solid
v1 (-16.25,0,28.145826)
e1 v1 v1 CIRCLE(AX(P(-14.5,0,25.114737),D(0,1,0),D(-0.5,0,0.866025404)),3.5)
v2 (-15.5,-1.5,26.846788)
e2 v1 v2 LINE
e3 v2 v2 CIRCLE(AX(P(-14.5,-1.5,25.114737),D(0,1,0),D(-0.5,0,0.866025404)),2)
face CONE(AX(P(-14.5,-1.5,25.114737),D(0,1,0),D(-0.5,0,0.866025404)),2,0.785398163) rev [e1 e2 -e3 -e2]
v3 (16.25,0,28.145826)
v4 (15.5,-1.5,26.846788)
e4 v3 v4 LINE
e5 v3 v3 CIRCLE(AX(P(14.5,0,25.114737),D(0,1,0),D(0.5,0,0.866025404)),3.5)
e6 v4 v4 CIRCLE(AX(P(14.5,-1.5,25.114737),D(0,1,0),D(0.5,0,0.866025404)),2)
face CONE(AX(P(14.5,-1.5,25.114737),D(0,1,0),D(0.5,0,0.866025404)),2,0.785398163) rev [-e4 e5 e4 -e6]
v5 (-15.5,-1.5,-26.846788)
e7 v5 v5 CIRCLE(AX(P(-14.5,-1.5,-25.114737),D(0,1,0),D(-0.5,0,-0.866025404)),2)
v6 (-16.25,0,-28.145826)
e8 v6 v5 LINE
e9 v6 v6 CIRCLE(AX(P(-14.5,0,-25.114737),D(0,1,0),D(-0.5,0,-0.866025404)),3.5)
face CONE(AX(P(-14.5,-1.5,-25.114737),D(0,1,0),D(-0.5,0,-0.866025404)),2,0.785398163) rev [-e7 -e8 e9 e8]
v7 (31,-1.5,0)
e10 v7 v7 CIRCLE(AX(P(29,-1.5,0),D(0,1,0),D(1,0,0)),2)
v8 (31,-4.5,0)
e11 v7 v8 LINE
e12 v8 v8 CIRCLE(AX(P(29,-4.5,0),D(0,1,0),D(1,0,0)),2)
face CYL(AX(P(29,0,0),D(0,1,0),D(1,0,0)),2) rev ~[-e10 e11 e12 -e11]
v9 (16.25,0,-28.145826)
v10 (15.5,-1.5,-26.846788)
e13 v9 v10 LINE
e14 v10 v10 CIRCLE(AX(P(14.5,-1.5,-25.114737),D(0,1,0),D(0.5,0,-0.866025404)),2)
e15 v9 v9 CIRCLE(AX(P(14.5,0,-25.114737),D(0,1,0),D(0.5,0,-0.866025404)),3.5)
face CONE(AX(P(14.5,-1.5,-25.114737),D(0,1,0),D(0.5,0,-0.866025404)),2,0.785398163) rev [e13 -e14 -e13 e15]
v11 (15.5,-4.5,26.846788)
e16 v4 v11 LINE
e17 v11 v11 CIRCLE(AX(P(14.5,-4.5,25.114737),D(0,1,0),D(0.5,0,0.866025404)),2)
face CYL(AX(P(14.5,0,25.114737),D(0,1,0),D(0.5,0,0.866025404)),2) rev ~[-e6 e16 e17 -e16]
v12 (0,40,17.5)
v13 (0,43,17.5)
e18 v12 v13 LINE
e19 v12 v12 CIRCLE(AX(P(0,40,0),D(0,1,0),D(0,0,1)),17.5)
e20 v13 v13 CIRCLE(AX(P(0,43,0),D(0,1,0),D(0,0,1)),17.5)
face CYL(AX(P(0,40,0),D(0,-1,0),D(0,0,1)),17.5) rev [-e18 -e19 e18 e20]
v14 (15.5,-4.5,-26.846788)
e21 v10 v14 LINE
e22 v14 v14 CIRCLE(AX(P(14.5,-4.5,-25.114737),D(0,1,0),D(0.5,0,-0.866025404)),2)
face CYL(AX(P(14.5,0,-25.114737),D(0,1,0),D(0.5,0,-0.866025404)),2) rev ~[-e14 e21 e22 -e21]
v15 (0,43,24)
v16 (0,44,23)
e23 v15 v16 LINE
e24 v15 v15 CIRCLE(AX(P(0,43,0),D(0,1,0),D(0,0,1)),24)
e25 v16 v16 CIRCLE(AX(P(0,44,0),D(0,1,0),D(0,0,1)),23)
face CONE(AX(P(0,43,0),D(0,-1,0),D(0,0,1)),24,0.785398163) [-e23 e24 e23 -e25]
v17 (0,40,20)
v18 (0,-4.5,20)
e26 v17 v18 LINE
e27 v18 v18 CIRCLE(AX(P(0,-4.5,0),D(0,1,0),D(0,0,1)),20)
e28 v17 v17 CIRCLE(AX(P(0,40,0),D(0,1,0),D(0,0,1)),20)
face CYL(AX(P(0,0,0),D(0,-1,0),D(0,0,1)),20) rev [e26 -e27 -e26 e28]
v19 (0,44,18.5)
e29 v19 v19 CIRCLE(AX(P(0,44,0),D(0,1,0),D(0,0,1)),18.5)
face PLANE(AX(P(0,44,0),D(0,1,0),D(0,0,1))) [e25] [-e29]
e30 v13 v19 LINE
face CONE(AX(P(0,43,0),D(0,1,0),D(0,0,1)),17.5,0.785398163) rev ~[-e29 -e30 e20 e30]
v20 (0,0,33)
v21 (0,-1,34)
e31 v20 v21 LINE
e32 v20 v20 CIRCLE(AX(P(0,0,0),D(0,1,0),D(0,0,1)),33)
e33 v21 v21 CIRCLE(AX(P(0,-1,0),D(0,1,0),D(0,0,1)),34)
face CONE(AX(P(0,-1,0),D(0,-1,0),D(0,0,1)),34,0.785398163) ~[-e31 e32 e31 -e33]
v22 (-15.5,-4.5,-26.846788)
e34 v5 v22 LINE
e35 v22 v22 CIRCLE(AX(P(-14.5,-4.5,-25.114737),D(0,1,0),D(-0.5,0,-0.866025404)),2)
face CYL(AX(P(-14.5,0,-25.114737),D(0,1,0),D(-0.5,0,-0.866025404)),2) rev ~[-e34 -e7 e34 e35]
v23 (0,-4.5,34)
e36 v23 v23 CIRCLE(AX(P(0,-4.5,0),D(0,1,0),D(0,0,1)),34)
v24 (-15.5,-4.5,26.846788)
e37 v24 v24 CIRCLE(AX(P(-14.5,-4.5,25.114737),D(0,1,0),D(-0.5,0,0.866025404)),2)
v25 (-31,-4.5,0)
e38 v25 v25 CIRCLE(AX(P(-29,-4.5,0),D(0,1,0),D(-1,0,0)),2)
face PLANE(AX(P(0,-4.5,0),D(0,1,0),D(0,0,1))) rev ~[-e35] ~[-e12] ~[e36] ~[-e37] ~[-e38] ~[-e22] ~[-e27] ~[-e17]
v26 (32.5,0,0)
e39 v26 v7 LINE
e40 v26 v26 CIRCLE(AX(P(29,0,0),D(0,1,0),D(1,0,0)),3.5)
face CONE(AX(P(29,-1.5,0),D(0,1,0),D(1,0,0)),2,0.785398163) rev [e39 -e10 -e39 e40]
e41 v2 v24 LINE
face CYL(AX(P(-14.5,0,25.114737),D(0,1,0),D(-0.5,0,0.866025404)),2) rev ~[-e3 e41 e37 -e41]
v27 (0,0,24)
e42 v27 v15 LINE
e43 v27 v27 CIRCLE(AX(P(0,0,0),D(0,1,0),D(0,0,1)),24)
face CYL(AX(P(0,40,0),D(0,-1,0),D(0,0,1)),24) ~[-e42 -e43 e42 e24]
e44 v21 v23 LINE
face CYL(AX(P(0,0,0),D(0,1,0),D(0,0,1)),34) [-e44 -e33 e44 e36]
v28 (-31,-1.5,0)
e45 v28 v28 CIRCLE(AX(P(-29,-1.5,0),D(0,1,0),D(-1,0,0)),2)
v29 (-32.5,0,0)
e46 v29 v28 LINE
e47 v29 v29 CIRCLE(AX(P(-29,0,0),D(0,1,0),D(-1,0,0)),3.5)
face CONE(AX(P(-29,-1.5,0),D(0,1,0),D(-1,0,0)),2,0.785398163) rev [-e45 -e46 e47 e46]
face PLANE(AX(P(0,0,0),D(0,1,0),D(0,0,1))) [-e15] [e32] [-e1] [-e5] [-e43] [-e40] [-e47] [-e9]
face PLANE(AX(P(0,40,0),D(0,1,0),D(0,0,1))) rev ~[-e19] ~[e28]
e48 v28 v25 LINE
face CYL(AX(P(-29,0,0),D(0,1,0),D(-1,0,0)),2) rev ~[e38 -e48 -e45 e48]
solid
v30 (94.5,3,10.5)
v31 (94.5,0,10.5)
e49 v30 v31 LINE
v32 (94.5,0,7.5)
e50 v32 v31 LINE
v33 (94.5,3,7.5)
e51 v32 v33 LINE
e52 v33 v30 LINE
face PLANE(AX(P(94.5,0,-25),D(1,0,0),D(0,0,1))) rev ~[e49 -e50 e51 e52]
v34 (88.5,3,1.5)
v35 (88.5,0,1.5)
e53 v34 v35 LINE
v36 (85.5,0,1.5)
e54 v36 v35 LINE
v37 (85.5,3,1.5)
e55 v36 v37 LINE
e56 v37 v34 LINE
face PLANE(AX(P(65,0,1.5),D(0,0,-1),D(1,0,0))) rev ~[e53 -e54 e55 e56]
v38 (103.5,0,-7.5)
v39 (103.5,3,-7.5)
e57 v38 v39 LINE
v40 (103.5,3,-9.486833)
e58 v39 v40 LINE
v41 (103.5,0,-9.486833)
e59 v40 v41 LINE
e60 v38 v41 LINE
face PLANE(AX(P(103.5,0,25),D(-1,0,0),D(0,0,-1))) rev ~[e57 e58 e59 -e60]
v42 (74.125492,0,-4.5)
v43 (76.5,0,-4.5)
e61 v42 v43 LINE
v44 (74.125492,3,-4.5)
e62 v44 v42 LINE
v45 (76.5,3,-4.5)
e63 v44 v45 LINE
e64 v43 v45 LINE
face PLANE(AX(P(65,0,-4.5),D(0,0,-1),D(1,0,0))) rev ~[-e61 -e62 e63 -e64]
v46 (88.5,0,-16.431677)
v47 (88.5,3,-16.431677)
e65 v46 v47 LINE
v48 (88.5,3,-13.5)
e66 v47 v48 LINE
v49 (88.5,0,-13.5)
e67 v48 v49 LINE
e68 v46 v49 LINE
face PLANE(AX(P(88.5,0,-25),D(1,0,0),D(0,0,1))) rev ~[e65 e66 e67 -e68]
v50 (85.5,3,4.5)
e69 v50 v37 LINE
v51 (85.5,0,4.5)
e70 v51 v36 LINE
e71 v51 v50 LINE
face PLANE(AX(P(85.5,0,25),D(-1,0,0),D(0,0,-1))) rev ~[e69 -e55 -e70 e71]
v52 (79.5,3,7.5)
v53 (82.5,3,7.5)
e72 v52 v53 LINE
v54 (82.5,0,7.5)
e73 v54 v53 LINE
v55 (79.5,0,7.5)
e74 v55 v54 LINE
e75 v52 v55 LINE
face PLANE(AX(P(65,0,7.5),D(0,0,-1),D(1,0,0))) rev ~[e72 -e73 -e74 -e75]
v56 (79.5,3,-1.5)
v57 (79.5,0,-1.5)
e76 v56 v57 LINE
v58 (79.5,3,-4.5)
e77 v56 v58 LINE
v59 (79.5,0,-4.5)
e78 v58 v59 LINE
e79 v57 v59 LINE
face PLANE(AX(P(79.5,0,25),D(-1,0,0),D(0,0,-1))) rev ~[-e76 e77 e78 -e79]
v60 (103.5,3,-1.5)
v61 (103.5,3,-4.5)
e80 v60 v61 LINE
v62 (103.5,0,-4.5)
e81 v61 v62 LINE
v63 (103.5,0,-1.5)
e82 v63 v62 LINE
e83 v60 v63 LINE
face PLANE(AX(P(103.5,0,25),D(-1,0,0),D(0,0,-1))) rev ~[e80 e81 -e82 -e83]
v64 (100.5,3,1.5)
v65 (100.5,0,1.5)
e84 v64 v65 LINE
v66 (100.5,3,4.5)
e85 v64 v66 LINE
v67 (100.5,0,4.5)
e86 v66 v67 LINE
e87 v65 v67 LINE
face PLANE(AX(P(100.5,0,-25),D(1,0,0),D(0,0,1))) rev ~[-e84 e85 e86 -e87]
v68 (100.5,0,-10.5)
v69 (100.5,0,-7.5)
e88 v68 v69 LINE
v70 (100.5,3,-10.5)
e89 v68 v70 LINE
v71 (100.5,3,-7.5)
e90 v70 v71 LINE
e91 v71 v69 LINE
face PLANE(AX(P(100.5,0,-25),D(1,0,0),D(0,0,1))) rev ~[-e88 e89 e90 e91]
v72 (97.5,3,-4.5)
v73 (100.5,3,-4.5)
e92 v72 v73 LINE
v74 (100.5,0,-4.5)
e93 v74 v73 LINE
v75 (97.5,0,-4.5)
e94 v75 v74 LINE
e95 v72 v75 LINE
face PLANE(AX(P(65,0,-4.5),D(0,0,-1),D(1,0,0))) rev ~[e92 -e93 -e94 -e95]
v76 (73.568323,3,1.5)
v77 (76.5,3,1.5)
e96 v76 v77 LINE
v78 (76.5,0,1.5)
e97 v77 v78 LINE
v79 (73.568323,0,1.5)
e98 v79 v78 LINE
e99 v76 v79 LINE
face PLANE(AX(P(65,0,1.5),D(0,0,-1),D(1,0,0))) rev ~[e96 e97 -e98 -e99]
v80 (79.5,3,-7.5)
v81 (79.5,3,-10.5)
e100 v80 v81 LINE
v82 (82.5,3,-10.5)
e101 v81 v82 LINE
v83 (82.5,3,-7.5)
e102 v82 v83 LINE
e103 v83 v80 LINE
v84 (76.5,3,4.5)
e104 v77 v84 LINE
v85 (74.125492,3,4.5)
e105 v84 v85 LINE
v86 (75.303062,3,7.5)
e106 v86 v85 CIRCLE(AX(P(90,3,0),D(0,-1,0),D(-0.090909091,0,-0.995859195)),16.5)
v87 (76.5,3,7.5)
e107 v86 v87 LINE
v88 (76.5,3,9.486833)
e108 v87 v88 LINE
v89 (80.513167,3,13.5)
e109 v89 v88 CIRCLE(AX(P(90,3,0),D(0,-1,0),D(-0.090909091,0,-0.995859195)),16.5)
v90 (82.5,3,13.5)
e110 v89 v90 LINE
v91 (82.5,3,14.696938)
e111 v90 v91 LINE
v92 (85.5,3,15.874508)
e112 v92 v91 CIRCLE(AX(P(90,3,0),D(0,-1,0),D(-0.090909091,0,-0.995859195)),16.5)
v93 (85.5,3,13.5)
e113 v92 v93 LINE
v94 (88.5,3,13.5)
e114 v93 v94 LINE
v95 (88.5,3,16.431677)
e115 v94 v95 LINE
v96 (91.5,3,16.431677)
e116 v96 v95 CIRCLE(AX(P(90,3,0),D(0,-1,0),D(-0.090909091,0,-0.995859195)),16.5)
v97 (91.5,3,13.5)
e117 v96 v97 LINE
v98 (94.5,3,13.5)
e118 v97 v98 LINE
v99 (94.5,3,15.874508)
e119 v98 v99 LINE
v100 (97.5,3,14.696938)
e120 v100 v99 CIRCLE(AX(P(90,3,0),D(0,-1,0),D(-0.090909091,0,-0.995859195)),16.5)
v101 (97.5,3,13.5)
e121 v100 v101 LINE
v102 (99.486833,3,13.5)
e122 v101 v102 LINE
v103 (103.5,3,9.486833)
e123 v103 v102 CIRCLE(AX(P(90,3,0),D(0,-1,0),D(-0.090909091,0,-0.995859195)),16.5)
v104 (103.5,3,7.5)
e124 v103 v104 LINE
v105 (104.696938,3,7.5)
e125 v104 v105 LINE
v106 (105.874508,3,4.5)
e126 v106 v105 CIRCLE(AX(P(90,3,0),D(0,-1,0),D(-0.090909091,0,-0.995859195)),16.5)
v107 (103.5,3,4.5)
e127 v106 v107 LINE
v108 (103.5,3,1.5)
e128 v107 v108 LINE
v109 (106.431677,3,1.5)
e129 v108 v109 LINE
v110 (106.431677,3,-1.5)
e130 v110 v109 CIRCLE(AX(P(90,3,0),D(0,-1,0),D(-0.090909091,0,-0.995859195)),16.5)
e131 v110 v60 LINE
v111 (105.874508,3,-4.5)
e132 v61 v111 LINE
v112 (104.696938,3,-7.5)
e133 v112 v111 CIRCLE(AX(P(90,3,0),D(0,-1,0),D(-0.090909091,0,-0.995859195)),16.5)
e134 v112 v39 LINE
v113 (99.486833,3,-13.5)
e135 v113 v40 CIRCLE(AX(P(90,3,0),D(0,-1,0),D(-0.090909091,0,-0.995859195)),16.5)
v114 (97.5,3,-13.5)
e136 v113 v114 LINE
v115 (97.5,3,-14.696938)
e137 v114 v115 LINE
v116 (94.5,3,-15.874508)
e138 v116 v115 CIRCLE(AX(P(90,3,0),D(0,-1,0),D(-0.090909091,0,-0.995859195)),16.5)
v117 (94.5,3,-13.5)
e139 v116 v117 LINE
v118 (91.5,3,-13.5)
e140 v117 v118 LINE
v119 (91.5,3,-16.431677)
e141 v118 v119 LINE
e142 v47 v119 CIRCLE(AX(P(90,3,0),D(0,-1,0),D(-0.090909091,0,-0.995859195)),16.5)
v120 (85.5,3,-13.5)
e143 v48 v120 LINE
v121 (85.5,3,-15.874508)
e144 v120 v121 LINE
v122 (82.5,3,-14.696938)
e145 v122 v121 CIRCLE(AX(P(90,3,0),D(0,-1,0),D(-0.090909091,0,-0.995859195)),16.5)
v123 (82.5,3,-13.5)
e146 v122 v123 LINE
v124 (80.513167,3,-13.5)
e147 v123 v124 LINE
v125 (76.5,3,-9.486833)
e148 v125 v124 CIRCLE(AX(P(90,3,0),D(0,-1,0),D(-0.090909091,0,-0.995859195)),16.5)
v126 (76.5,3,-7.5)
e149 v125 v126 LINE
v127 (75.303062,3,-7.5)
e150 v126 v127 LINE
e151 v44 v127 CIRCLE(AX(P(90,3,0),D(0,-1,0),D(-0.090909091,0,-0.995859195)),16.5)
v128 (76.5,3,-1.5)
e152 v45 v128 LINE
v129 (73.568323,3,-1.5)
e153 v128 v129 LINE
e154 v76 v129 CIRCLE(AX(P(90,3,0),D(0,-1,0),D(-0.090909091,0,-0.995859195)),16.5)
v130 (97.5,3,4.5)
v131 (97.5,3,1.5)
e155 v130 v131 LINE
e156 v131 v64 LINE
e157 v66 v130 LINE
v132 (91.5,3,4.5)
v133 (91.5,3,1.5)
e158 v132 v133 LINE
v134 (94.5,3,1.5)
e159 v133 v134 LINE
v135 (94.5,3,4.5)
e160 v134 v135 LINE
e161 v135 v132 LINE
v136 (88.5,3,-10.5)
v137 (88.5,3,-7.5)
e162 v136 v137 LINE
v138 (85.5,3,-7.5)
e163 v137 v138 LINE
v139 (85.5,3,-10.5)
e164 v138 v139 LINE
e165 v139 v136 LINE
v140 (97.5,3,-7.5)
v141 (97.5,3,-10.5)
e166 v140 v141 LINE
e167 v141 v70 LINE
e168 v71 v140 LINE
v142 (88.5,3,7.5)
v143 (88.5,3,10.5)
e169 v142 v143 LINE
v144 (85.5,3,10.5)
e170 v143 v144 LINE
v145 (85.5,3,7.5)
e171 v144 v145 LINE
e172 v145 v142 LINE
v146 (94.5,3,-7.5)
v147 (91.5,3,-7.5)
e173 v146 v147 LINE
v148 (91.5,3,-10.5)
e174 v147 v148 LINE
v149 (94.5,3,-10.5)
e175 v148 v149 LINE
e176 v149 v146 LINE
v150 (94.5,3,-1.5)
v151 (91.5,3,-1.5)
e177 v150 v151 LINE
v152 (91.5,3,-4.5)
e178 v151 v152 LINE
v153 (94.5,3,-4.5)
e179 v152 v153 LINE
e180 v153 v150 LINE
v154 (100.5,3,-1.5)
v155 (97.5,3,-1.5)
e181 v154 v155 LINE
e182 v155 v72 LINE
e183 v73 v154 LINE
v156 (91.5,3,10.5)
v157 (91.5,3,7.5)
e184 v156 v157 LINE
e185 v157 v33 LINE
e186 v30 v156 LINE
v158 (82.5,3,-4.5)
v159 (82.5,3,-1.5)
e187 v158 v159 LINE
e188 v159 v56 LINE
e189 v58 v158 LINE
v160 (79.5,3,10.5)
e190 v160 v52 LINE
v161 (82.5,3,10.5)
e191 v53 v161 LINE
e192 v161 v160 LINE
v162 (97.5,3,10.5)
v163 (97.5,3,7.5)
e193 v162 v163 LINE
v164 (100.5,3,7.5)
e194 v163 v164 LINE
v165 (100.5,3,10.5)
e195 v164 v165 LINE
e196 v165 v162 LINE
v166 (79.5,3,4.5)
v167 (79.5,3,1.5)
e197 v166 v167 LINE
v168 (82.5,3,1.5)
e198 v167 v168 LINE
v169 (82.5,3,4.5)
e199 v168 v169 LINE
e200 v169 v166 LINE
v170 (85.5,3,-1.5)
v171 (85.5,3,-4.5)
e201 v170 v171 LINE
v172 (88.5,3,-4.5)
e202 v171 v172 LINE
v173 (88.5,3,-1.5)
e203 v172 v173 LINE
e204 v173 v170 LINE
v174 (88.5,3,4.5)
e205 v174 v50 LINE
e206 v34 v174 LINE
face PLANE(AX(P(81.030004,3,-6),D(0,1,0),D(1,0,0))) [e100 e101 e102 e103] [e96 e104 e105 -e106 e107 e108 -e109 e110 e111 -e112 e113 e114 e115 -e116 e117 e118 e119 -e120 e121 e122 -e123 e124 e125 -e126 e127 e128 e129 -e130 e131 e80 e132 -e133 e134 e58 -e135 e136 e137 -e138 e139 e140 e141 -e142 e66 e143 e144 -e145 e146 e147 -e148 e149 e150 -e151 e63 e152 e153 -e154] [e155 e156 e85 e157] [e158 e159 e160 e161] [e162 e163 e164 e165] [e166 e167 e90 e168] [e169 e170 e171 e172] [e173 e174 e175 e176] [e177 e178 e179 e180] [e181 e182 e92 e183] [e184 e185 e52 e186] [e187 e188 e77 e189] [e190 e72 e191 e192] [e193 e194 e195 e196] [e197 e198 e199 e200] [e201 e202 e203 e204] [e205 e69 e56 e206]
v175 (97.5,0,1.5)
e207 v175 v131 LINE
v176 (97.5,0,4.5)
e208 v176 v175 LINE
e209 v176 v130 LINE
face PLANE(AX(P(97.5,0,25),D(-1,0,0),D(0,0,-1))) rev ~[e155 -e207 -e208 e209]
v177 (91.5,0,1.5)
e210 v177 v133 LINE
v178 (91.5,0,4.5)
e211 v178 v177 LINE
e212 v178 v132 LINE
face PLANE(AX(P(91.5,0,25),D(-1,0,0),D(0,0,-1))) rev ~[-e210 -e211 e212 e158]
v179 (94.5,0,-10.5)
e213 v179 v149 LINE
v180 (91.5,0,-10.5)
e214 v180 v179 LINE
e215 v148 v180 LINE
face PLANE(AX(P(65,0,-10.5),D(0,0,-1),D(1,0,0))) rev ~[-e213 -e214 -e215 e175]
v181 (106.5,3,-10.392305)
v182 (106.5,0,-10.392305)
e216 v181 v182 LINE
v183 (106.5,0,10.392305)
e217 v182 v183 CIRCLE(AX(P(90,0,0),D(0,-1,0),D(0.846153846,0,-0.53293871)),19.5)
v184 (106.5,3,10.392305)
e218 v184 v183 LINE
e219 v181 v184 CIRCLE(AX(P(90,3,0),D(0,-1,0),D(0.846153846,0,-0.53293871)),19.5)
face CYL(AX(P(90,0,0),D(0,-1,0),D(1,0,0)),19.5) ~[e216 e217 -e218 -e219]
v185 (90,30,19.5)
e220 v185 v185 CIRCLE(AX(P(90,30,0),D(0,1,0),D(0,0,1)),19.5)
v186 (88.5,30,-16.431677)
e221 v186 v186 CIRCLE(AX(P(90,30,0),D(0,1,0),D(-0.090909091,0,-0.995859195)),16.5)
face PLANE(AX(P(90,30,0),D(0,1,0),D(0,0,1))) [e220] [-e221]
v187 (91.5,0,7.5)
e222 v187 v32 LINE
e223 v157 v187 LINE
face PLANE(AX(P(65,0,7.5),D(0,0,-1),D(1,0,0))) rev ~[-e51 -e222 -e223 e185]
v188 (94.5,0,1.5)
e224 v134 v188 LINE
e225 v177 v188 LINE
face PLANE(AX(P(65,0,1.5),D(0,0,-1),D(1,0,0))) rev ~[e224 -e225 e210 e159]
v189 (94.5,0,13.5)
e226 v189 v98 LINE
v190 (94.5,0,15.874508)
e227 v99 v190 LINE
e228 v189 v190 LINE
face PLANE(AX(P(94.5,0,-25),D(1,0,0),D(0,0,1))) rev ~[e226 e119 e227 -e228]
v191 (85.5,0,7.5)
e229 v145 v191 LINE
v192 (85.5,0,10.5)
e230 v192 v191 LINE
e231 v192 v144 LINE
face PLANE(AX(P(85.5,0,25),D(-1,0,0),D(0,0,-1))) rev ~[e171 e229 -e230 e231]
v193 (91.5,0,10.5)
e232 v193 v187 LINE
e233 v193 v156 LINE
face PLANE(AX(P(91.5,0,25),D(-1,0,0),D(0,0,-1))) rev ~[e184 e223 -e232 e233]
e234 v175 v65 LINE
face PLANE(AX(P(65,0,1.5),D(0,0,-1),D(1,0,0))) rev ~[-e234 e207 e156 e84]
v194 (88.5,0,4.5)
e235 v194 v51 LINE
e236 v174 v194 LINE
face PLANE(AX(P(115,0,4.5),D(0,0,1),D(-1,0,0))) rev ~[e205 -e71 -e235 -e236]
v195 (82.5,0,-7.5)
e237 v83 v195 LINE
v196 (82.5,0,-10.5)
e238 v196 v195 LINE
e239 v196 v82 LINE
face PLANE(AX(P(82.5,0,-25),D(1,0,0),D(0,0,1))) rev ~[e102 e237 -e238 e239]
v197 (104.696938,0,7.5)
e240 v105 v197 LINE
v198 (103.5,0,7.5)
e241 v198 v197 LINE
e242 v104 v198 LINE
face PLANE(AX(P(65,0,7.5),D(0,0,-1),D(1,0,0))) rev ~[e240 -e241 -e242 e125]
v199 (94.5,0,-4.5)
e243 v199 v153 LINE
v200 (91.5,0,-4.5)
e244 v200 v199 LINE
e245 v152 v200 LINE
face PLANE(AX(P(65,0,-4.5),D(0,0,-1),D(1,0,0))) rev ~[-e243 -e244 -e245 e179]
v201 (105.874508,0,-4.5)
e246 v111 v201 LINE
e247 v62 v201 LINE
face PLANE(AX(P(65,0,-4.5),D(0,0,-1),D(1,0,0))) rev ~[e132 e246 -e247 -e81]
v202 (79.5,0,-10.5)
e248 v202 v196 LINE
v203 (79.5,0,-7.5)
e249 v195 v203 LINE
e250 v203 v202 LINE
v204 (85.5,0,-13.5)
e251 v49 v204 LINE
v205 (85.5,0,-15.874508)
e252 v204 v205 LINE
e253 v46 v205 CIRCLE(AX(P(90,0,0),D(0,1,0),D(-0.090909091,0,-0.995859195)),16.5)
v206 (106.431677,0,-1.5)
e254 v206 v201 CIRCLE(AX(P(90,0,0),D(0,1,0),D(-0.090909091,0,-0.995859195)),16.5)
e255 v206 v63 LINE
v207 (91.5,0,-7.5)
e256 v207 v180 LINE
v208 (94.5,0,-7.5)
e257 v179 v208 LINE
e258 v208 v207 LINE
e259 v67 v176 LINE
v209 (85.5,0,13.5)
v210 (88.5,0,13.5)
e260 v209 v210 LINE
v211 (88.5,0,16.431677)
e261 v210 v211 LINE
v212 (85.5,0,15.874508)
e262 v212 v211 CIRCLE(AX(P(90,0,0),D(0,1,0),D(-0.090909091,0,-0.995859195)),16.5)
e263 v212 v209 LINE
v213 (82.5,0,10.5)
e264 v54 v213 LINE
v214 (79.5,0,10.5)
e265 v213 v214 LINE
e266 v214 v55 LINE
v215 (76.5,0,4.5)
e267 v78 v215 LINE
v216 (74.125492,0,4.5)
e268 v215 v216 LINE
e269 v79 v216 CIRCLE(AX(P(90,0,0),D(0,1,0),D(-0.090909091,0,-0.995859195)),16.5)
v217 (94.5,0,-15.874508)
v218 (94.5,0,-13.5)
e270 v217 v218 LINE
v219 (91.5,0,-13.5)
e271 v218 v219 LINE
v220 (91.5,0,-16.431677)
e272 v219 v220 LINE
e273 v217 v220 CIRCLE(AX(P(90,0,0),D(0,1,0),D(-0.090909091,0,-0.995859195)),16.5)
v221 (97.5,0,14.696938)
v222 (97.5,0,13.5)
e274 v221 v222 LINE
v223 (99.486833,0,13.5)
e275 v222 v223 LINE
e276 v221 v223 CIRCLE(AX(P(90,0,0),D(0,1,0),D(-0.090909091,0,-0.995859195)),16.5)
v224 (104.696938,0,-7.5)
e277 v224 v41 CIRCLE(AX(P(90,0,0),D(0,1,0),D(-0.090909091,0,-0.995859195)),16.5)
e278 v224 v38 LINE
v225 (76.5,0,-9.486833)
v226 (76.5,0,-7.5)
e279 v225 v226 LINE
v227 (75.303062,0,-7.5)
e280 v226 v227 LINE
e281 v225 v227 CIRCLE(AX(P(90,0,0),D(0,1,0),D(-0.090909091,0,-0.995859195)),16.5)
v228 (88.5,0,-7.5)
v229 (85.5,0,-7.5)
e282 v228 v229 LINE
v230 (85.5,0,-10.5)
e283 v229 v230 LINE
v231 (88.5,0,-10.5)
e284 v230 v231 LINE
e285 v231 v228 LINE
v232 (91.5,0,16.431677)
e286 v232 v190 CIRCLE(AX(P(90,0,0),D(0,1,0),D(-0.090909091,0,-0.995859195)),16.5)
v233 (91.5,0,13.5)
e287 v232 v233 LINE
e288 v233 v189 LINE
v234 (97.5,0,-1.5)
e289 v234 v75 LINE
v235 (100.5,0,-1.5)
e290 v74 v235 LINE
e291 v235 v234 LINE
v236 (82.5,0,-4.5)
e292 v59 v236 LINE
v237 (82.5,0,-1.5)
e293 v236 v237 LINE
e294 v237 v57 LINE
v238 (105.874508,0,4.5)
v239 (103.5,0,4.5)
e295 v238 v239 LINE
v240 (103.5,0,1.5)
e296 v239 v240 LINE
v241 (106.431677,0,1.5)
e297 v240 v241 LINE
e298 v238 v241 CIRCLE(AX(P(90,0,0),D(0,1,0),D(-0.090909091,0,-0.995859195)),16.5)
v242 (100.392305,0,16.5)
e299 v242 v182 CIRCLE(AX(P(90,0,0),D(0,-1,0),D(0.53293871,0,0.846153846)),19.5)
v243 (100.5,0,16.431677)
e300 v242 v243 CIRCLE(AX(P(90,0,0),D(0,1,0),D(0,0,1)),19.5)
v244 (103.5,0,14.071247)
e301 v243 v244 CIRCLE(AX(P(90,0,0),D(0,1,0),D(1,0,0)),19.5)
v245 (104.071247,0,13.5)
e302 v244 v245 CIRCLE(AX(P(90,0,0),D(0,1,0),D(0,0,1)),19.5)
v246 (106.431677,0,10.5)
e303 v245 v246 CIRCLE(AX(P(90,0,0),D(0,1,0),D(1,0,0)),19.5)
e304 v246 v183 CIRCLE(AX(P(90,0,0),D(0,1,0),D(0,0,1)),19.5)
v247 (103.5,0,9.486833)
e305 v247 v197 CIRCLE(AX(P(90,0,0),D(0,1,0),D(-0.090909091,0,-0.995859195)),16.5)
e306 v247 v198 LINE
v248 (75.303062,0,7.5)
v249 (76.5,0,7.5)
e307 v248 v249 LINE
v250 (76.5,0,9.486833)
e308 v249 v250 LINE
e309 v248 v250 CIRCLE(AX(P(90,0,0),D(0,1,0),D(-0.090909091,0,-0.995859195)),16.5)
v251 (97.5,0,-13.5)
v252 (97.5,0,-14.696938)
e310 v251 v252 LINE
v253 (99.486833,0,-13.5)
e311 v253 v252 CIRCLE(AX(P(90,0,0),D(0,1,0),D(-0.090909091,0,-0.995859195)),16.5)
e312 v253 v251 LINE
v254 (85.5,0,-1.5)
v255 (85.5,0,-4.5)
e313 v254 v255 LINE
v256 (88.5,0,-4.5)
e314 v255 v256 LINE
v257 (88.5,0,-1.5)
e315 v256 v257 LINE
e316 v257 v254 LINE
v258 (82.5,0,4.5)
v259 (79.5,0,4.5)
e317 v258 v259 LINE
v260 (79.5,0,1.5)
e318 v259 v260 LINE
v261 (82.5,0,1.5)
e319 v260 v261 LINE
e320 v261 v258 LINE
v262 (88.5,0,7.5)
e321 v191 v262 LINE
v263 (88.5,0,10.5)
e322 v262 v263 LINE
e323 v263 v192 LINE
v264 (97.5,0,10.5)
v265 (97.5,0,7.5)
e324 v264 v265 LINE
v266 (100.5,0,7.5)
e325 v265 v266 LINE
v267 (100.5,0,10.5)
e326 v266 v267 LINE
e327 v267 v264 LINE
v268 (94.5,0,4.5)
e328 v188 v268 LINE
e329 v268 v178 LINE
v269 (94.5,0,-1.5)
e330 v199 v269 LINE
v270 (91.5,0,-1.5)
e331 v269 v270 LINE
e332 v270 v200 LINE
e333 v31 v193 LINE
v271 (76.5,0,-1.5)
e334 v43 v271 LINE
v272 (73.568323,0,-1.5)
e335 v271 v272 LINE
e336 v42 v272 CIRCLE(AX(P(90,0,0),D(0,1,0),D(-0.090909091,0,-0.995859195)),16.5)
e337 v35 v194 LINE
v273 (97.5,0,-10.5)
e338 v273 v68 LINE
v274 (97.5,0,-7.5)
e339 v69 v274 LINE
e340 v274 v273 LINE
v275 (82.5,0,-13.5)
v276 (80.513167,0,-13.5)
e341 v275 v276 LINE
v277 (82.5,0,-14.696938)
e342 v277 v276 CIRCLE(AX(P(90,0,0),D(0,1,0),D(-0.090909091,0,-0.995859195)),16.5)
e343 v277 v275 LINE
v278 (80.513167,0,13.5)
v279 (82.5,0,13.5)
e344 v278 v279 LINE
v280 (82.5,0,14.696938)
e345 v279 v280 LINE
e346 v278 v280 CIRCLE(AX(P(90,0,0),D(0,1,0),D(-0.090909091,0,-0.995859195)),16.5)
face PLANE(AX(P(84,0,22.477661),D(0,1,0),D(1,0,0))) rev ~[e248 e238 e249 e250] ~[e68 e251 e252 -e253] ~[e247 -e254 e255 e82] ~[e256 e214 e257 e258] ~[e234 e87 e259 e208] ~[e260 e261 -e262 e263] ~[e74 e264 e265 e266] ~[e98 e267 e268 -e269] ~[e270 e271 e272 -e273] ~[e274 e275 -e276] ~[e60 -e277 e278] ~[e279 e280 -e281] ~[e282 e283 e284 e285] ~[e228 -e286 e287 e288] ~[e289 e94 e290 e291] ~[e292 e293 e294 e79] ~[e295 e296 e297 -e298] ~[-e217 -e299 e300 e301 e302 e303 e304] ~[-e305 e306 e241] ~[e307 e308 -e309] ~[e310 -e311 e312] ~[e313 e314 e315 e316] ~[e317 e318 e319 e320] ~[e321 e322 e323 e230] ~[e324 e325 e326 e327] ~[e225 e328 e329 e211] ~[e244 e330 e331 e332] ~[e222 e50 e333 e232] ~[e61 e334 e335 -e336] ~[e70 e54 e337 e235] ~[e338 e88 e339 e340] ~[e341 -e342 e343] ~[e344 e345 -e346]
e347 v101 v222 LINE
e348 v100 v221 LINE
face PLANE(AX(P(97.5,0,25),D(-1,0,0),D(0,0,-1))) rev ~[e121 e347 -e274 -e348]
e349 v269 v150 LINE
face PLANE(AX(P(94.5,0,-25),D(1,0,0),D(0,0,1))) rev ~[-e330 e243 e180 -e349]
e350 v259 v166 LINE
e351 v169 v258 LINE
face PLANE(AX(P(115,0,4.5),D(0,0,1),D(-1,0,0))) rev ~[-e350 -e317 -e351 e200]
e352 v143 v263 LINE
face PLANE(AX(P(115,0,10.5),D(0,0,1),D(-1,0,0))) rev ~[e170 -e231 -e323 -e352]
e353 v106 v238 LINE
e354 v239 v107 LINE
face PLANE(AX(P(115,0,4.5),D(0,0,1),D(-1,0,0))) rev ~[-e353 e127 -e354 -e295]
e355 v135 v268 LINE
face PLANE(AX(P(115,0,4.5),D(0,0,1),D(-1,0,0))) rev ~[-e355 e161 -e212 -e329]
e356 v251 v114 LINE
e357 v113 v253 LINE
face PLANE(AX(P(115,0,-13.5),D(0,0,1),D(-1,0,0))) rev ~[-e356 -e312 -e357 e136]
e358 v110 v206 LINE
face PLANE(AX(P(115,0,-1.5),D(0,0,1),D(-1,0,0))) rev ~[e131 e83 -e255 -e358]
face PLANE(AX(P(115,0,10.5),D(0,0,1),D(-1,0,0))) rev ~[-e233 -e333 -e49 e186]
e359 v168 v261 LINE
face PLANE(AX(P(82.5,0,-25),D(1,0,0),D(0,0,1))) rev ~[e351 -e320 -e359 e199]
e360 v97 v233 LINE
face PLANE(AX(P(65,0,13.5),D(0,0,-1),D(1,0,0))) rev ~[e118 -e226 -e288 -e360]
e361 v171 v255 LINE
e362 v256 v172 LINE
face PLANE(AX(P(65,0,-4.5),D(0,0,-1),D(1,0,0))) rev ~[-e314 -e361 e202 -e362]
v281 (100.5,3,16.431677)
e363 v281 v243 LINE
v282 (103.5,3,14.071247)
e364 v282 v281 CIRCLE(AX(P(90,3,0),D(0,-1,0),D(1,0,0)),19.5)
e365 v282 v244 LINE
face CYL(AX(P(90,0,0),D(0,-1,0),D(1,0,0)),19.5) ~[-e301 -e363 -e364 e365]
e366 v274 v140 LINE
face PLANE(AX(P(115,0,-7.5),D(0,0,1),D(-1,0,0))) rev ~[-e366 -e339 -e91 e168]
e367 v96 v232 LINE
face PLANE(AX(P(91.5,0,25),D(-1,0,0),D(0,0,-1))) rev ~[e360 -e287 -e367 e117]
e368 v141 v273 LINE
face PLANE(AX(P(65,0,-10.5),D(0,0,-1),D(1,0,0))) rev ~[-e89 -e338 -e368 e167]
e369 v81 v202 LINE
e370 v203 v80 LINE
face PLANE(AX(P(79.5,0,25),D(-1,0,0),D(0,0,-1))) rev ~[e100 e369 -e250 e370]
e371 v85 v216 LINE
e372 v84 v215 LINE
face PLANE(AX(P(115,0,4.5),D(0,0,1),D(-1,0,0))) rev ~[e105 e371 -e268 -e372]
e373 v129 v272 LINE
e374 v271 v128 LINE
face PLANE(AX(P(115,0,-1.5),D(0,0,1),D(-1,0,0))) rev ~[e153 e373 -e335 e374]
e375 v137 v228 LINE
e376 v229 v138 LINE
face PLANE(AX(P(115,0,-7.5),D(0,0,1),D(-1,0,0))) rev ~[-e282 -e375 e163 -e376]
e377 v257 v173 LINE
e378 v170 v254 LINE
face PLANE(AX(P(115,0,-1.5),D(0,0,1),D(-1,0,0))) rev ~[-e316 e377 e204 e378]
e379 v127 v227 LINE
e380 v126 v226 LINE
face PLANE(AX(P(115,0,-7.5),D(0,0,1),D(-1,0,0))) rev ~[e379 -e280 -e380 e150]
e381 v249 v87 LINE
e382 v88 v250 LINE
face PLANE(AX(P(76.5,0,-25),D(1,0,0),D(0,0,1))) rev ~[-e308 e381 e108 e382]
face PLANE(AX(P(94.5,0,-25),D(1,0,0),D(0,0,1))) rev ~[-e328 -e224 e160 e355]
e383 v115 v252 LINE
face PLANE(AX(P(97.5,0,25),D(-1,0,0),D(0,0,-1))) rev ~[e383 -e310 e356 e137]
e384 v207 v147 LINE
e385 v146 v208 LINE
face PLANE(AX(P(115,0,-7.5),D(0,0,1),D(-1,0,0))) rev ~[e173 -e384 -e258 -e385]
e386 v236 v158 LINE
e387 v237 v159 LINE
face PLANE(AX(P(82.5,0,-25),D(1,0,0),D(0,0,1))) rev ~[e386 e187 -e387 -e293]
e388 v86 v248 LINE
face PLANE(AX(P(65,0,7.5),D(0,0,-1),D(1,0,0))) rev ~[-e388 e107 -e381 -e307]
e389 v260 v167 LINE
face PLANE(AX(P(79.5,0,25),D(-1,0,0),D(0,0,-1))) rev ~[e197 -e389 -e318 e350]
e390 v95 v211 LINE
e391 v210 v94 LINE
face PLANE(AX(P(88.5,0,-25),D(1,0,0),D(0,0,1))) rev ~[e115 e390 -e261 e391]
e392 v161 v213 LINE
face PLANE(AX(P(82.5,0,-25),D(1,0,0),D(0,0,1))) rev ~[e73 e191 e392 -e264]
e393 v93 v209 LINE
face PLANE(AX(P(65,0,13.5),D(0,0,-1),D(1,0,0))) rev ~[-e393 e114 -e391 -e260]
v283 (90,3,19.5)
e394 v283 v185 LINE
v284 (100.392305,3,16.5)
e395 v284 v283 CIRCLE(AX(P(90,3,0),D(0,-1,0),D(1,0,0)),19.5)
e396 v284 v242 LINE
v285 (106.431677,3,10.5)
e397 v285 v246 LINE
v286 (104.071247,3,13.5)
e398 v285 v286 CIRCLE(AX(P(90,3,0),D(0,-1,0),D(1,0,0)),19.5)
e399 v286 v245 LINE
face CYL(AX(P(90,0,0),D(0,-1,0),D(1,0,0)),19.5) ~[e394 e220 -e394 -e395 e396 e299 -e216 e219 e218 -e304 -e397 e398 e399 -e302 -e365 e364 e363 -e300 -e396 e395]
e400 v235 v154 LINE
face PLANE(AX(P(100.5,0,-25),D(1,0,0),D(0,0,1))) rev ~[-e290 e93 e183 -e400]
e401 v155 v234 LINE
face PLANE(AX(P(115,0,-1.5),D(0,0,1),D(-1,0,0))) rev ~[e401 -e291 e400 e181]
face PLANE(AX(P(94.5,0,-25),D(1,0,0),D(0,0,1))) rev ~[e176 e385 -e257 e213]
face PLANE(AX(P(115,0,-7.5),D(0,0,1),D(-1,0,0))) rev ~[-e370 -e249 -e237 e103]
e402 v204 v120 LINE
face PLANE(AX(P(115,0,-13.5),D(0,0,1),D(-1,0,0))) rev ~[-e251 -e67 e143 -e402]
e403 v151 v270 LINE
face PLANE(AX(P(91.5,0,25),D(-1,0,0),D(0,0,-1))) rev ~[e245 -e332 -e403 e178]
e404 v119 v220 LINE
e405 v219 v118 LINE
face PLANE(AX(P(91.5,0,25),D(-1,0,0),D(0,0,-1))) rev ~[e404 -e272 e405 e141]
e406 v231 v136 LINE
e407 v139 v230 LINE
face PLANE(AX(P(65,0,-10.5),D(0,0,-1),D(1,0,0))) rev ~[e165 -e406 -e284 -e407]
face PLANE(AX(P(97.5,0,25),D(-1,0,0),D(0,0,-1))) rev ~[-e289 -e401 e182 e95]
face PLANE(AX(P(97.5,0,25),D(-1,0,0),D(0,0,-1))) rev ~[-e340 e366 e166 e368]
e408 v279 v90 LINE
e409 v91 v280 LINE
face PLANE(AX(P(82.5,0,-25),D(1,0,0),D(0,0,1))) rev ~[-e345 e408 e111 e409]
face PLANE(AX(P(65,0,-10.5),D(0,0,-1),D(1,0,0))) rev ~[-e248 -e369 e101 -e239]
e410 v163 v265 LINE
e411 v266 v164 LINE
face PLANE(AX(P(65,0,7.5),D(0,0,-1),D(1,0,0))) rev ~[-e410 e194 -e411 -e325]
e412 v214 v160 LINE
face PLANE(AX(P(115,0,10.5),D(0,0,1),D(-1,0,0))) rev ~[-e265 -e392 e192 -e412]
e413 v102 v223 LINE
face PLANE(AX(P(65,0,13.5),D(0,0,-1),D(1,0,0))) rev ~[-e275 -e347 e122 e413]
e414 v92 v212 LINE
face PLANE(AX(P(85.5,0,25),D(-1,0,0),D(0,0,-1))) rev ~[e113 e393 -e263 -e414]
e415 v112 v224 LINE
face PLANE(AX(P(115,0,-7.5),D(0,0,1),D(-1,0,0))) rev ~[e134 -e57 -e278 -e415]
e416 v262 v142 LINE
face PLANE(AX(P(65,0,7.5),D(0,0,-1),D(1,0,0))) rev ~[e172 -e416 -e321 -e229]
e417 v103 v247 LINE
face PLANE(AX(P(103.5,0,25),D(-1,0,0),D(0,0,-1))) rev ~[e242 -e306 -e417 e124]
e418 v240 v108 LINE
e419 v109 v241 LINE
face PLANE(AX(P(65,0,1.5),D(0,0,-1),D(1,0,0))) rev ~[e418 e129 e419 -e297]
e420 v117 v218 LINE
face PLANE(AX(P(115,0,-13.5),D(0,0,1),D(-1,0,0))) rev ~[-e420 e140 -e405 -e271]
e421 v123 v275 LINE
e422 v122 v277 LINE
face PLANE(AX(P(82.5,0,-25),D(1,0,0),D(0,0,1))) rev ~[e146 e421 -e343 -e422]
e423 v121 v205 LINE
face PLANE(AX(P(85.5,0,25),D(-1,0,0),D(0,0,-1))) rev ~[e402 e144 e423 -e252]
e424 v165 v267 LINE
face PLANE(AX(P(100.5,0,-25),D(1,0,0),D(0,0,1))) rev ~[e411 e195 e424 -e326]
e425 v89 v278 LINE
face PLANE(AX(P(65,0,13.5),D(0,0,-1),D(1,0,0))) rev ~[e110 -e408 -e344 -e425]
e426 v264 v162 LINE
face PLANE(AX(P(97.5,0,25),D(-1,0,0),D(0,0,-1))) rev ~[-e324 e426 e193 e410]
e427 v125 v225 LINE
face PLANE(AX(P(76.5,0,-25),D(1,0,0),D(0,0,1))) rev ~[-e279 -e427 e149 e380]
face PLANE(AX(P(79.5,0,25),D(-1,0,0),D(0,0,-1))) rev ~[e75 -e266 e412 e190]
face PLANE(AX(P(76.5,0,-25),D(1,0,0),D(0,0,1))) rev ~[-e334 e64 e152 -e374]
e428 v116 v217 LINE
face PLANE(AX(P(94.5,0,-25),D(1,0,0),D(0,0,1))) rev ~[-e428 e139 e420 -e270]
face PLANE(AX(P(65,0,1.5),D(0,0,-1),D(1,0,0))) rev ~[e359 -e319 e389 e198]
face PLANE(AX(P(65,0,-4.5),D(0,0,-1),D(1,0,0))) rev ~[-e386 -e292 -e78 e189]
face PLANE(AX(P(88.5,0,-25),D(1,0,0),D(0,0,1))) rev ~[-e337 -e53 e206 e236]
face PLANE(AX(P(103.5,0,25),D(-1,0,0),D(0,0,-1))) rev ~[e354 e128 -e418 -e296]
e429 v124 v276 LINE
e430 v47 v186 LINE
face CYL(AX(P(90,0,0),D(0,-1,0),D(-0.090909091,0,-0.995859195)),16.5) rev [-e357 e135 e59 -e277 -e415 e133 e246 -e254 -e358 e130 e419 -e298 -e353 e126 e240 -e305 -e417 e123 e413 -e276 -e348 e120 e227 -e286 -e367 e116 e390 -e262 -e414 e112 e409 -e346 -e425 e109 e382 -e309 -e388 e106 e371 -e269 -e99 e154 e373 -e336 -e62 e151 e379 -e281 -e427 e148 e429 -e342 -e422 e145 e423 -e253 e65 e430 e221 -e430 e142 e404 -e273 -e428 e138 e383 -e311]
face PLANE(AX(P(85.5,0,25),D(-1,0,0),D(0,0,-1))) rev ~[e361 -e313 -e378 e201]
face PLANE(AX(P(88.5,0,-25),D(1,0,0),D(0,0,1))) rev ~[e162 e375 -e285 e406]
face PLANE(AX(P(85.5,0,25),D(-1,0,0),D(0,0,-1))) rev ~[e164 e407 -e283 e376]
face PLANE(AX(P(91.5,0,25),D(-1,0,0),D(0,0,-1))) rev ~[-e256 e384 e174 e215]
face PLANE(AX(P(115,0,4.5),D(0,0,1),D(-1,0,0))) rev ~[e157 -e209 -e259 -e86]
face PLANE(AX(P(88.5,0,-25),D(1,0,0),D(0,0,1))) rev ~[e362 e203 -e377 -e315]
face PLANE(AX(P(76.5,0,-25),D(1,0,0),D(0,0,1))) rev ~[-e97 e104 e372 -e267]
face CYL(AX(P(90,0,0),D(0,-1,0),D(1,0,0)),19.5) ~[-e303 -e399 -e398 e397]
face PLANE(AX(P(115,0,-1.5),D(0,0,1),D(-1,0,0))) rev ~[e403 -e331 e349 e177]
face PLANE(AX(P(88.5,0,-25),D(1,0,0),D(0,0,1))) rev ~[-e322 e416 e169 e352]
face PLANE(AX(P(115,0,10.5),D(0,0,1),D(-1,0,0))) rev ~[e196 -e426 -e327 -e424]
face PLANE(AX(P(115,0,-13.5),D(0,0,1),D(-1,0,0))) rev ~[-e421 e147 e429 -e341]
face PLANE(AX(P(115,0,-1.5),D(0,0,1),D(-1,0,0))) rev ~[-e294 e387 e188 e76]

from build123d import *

# Parameters (mm, degrees)
SKETCH1_R                    = 34
SKETCH1_R_2                  = 20
BOSS_EXTRUDE1_DEPTH          = 4.5
SKETCH1_3_R                  = 24
SKETCH1_3_R_2                = 20
BOSS_EXTRUDE2_DEPTH          = 40
SKETCH2_R                    = 24
SKETCH2_R_2                  = 17.5
BOSS_EXTRUDE3_DEPTH          = 4
CHAMFER1_SIZE                = 1
CUT_EXTRUDE1_DEPTH           = 66.176682947
CHAMFER2_SIZE                = 1.5
CIRPATTERN1_COUNT            = 6
CHAMFER2_OF_CIRPATTERN1_SIZE = 1.5
SKETCH4_W                    = 3
SKETCH4_H                    = 3
BOSS_EXTRUDE4_DEPTH          = 3
SKETCH4_3_W                  = 3
SKETCH4_3_H                  = 3
BOSS_EXTRUDE5_DEPTH          = 3
LPATTERN1_COUNT              = 5
LPATTERN1_PITCH              = 6
LPATTERN2_COUNT              = 5
LPATTERN2_PITCH              = 6
LPATTERN3_COUNT              = 5
LPATTERN3_PITCH              = 6
LPATTERN4_COUNT              = 5
LPATTERN4_PITCH              = 6
SKETCH5_R                    = 40
SKETCH5_R_2                  = 19.5
CUT_EXTRUDE5_DEPTH           = 129.188338003
SKETCH6_R                    = 19.5
SKETCH6_R_2                  = 16.5
BOSS_EXTRUDE7_DEPTH          = 30


with BuildPart() as part:
    # Sketch1 → Boss-Extrude1 (new body)
    with BuildSketch(Plane(origin=(0, 0, 0), x_dir=(1, 0, 0), z_dir=(0, 1, 0))):
        with Locations(Location((0, 0, 0), (0, 0, 270))):
            Circle(SKETCH1_R)
        with Locations(Location((0, 0, 0), (0, 0, 270))):
            Circle(SKETCH1_R_2, mode=Mode.SUBTRACT)
    extrude(amount=-BOSS_EXTRUDE1_DEPTH)

    # Sketch1<3> → Boss-Extrude2 (add)
    with BuildSketch(Plane(origin=(0, 0, 0), x_dir=(1, 0, 0), z_dir=(0, 1, 0))):
        with Locations(Location((0, 0, 0), (0, 0, 270))):
            Circle(SKETCH1_3_R)
        with Locations(Location((0, 0, 0), (0, 0, 270))):
            Circle(SKETCH1_3_R_2, mode=Mode.SUBTRACT)
    extrude(amount=BOSS_EXTRUDE2_DEPTH)

    # Sketch2 → Boss-Extrude3 (add)
    with BuildSketch(Plane(origin=(0, 40, 0), x_dir=(1, 0, 0), z_dir=(0, 1, 0))):
        with Locations(Location((0, 0, 0), (0, 0, 270))):
            Circle(SKETCH2_R)
        with Locations(Location((0, 0, 0), (0, 0, 270))):
            Circle(SKETCH2_R_2, mode=Mode.SUBTRACT)
    extrude(amount=BOSS_EXTRUDE3_DEPTH)

    # Chamfer1
    chamfer1_edges = [part.edges().sort_by_distance(p)[0] for p in [
        (0, 44, -24),
        (0, 44, -17.5),
        (0, 0, -34),
    ]]
    chamfer(chamfer1_edges, length=CHAMFER1_SIZE)

    # Sketch1<4> → Cut-Extrude1 (cut, through all)
    with BuildSketch(Plane(origin=(0, 0, 0), x_dir=(1, 0, 0), z_dir=(0, 1, 0))):
        with BuildLine():
            ThreePointArc((27, 0), (29, -2), (31, 0))
            Line((31, 0), (27, 0))
        make_face()
        with BuildLine():
            Line((27, 0), (31, 0))
            ThreePointArc((31, 0), (29, 2), (27, 0))
        make_face()
    cut_extrude1 = extrude(amount=-CUT_EXTRUDE1_DEPTH, mode=Mode.SUBTRACT)

    # Chamfer2
    chamfer2_edges = [part.edges().sort_by_distance(p)[0] for p in [
        (27, 0, 0),
    ]]
    chamfer(chamfer2_edges, length=CHAMFER2_SIZE)

    # CirPattern1: Cut-Extrude1 ×6 about axis
    cirpattern1_axis = Axis((0, 0, 0), (0, 1, 0))
    for i in range(1, CIRPATTERN1_COUNT):
        add(cut_extrude1.rotate(cirpattern1_axis, i * 360 / CIRPATTERN1_COUNT), mode=Mode.SUBTRACT)

    # Chamfer2 of CirPattern1
    chamfer2_of_cirpattern1_edges = [part.edges().sort_by_distance(p)[0] for p in [
        (13.5, 0, -23.382685902),
        (-13.5, 0, -23.382685902),
        (-27, 0, 0),
        (-13.5, 0, 23.382685902),
        (13.5, 0, 23.382685902),
    ]]
    chamfer(chamfer2_of_cirpattern1_edges, length=CHAMFER2_OF_CIRPATTERN1_SIZE)


with BuildPart() as body_2:
    # Sketch4 → Boss-Extrude4 (new body)
    with BuildSketch(Plane(origin=(0, 0, 0), x_dir=(1, 0, 0), z_dir=(0, 1, 0))):
        with BuildLine():
            Line((88.5, -1.5), (88.5, 1.5))
            Line((88.5, 1.5), (73.568323275, 1.5))
            ThreePointArc((73.568323275, 1.5), (73.5, 0), (73.568323275, -1.5))
            Line((73.568323275, -1.5), (88.5, -1.5))
        make_face()
        with BuildLine():
            Line((73.568323275, 1.5), (70.557777905, 1.5))
            ThreePointArc((70.557777905, 1.5), (70.5, 0), (70.557777905, -1.5))
            Line((70.557777905, -1.5), (73.568323275, -1.5))
            ThreePointArc((73.568323275, -1.5), (73.5, 0), (73.568323275, 1.5))
        make_face()
        with BuildLine():
            ThreePointArc((109.5, 0), (109.48555017, 0.750556175), (109.442222095, 1.5))
            Line((109.442222095, 1.5), (106.431676725, 1.5))
            ThreePointArc((106.431676725, 1.5), (106.482910331, 0.750777609), (106.5, 0))
            ThreePointArc((106.5, 0), (106.482910331, -0.750777609), (106.431676725, -1.5))
            Line((106.431676725, -1.5), (109.442222095, -1.5))
            ThreePointArc((109.442222095, -1.5), (109.48555017, -0.750556175), (109.5, 0))
        make_face()
        with BuildLine():
            ThreePointArc((70.056329325, -1.5), (70, 0), (70.056329325, 1.5))
            Line((70.056329325, 1.5), (65, 1.5))
            Line((65, 1.5), (65, -1.5))
            Line((65, -1.5), (70.056329325, -1.5))
        make_face()
        with BuildLine():
            Line((70.557777905, 1.5), (70.056329325, 1.5))
            ThreePointArc((70.056329325, 1.5), (70, 0), (70.056329325, -1.5))
            Line((70.056329325, -1.5), (70.557777905, -1.5))
            ThreePointArc((70.557777905, -1.5), (70.5, 0), (70.557777905, 1.5))
        make_face()
        with BuildLine():
            ThreePointArc((110, 0), (109.985912707, 0.750528646), (109.943670675, 1.5))
            Line((109.943670675, 1.5), (109.442222095, 1.5))
            ThreePointArc((109.442222095, 1.5), (109.48555017, 0.750556175), (109.5, 0))
            ThreePointArc((109.5, 0), (109.48555017, -0.750556175), (109.442222095, -1.5))
            Line((109.442222095, -1.5), (109.943670675, -1.5))
            ThreePointArc((109.943670675, -1.5), (109.985912707, -0.750528646), (110, 0))
        make_face()
        with Locations((90, 0)):
            Rectangle(SKETCH4_W, SKETCH4_H)
        with BuildLine():
            Line((106.431676725, 1.5), (91.5, 1.5))
            Line((91.5, 1.5), (91.5, -1.5))
            Line((91.5, -1.5), (106.431676725, -1.5))
            ThreePointArc((106.431676725, -1.5), (106.482910331, -0.750777609), (106.5, 0))
            ThreePointArc((106.5, 0), (106.482910331, 0.750777609), (106.431676725, 1.5))
        make_face()
        with BuildLine():
            Line((115, 1.5), (109.943670675, 1.5))
            ThreePointArc((109.943670675, 1.5), (109.985912707, 0.750528646), (110, 0))
            ThreePointArc((110, 0), (109.985912707, -0.750528646), (109.943670675, -1.5))
            Line((109.943670675, -1.5), (115, -1.5))
            Line((115, -1.5), (115, 1.5))
        make_face()
    boss_extrude4 = extrude(amount=BOSS_EXTRUDE4_DEPTH)

    # Sketch4<3> → Boss-Extrude5 (add)
    with BuildSketch(Plane(origin=(0, 0, 0), x_dir=(1, 0, 0), z_dir=(0, 1, 0))):
        with BuildLine():
            ThreePointArc((91.5, -19.943670675), (90, -20), (88.5, -19.943670675))
            Line((88.5, -19.943670675), (88.5, -25))
            Line((88.5, -25), (91.5, -25))
            Line((91.5, -25), (91.5, -19.943670675))
        make_face()
        with BuildLine():
            ThreePointArc((91.5, 19.442222095), (90, 19.5), (88.5, 19.442222095))
            Line((88.5, 19.442222095), (88.5, 16.431676725))
            ThreePointArc((88.5, 16.431676725), (90, 16.5), (91.5, 16.431676725))
            Line((91.5, 16.431676725), (91.5, 19.442222095))
        make_face()
        with BuildLine():
            Line((88.5, -16.431676725), (88.5, -19.442222095))
            ThreePointArc((88.5, -19.442222095), (90, -19.5), (91.5, -19.442222095))
            Line((91.5, -19.442222095), (91.5, -16.431676725))
            ThreePointArc((91.5, -16.431676725), (90, -16.5), (88.5, -16.431676725))
        make_face()
        with BuildLine():
            ThreePointArc((91.5, 19.943670675), (90, 20), (88.5, 19.943670675))
            Line((88.5, 19.943670675), (88.5, 19.442222095))
            ThreePointArc((88.5, 19.442222095), (90, 19.5), (91.5, 19.442222095))
            Line((91.5, 19.442222095), (91.5, 19.943670675))
        make_face()
        with BuildLine():
            Line((88.5, -19.442222095), (88.5, -19.943670675))
            ThreePointArc((88.5, -19.943670675), (90, -20), (91.5, -19.943670675))
            Line((91.5, -19.943670675), (91.5, -19.442222095))
            ThreePointArc((91.5, -19.442222095), (90, -19.5), (88.5, -19.442222095))
        make_face()
        with BuildLine():
            Line((91.5, -1.5), (88.5, -1.5))
            Line((88.5, -1.5), (88.5, -16.431676725))
            ThreePointArc((88.5, -16.431676725), (90, -16.5), (91.5, -16.431676725))
            Line((91.5, -16.431676725), (91.5, -1.5))
        make_face()
        with BuildLine():
            ThreePointArc((91.5, 16.431676725), (90, 16.5), (88.5, 16.431676725))
            Line((88.5, 16.431676725), (88.5, 1.5))
            Line((88.5, 1.5), (91.5, 1.5))
            Line((91.5, 1.5), (91.5, 16.431676725))
        make_face()
        with BuildLine():
            Line((91.5, 25), (88.5, 25))
            Line((88.5, 25), (88.5, 19.943670675))
            ThreePointArc((88.5, 19.943670675), (90, 20), (91.5, 19.943670675))
            Line((91.5, 19.943670675), (91.5, 25))
        make_face()
        with Locations((90, 0)):
            Rectangle(SKETCH4_3_W, SKETCH4_3_H)
    boss_extrude5 = extrude(amount=BOSS_EXTRUDE5_DEPTH)

    # LPattern1: Boss-Extrude5 ×5
    with Locations(*[(i * LPATTERN1_PITCH, 0, 0) for i in range(1, LPATTERN1_COUNT)]):
        add(boss_extrude5)

    # LPattern2: Boss-Extrude5 ×5
    with Locations(*[(-i * LPATTERN2_PITCH, 0, 0) for i in range(1, LPATTERN2_COUNT)]):
        add(boss_extrude5)

    # LPattern3: Boss-Extrude4 ×5
    with Locations(*[(0, 0, i * LPATTERN3_PITCH) for i in range(1, LPATTERN3_COUNT)]):
        add(boss_extrude4)

    # LPattern4: Boss-Extrude4 ×5
    with Locations(*[(0, 0, -i * LPATTERN4_PITCH) for i in range(1, LPATTERN4_COUNT)]):
        add(boss_extrude4)

    # Sketch5 → Cut-Extrude5 (cut, through all)
    with BuildSketch(Plane(origin=(0, 0, 0), x_dir=(1, 0, 0), z_dir=(0, 1, 0))):
        with Locations((90, 0)):
            Circle(SKETCH5_R)
        with Locations((90, 0)):
            Circle(SKETCH5_R_2, mode=Mode.SUBTRACT)
    extrude(amount=CUT_EXTRUDE5_DEPTH, mode=Mode.SUBTRACT)

    # Sketch6 → Boss-Extrude7 (add)
    with BuildSketch(Plane(origin=(0, 0, 0), x_dir=(1, 0, 0), z_dir=(0, 1, 0))):
        with Locations(Location((90, 0, 0), (0, 0, 270))):
            Circle(SKETCH6_R)
        with Locations(Location((90, 0, 0), (0, 0, 95.21590857))):
            Circle(SKETCH6_R_2, mode=Mode.SUBTRACT)
    extrude(amount=BOSS_EXTRUDE7_DEPTH)


solid = Compound([part.part, body_2.part])
